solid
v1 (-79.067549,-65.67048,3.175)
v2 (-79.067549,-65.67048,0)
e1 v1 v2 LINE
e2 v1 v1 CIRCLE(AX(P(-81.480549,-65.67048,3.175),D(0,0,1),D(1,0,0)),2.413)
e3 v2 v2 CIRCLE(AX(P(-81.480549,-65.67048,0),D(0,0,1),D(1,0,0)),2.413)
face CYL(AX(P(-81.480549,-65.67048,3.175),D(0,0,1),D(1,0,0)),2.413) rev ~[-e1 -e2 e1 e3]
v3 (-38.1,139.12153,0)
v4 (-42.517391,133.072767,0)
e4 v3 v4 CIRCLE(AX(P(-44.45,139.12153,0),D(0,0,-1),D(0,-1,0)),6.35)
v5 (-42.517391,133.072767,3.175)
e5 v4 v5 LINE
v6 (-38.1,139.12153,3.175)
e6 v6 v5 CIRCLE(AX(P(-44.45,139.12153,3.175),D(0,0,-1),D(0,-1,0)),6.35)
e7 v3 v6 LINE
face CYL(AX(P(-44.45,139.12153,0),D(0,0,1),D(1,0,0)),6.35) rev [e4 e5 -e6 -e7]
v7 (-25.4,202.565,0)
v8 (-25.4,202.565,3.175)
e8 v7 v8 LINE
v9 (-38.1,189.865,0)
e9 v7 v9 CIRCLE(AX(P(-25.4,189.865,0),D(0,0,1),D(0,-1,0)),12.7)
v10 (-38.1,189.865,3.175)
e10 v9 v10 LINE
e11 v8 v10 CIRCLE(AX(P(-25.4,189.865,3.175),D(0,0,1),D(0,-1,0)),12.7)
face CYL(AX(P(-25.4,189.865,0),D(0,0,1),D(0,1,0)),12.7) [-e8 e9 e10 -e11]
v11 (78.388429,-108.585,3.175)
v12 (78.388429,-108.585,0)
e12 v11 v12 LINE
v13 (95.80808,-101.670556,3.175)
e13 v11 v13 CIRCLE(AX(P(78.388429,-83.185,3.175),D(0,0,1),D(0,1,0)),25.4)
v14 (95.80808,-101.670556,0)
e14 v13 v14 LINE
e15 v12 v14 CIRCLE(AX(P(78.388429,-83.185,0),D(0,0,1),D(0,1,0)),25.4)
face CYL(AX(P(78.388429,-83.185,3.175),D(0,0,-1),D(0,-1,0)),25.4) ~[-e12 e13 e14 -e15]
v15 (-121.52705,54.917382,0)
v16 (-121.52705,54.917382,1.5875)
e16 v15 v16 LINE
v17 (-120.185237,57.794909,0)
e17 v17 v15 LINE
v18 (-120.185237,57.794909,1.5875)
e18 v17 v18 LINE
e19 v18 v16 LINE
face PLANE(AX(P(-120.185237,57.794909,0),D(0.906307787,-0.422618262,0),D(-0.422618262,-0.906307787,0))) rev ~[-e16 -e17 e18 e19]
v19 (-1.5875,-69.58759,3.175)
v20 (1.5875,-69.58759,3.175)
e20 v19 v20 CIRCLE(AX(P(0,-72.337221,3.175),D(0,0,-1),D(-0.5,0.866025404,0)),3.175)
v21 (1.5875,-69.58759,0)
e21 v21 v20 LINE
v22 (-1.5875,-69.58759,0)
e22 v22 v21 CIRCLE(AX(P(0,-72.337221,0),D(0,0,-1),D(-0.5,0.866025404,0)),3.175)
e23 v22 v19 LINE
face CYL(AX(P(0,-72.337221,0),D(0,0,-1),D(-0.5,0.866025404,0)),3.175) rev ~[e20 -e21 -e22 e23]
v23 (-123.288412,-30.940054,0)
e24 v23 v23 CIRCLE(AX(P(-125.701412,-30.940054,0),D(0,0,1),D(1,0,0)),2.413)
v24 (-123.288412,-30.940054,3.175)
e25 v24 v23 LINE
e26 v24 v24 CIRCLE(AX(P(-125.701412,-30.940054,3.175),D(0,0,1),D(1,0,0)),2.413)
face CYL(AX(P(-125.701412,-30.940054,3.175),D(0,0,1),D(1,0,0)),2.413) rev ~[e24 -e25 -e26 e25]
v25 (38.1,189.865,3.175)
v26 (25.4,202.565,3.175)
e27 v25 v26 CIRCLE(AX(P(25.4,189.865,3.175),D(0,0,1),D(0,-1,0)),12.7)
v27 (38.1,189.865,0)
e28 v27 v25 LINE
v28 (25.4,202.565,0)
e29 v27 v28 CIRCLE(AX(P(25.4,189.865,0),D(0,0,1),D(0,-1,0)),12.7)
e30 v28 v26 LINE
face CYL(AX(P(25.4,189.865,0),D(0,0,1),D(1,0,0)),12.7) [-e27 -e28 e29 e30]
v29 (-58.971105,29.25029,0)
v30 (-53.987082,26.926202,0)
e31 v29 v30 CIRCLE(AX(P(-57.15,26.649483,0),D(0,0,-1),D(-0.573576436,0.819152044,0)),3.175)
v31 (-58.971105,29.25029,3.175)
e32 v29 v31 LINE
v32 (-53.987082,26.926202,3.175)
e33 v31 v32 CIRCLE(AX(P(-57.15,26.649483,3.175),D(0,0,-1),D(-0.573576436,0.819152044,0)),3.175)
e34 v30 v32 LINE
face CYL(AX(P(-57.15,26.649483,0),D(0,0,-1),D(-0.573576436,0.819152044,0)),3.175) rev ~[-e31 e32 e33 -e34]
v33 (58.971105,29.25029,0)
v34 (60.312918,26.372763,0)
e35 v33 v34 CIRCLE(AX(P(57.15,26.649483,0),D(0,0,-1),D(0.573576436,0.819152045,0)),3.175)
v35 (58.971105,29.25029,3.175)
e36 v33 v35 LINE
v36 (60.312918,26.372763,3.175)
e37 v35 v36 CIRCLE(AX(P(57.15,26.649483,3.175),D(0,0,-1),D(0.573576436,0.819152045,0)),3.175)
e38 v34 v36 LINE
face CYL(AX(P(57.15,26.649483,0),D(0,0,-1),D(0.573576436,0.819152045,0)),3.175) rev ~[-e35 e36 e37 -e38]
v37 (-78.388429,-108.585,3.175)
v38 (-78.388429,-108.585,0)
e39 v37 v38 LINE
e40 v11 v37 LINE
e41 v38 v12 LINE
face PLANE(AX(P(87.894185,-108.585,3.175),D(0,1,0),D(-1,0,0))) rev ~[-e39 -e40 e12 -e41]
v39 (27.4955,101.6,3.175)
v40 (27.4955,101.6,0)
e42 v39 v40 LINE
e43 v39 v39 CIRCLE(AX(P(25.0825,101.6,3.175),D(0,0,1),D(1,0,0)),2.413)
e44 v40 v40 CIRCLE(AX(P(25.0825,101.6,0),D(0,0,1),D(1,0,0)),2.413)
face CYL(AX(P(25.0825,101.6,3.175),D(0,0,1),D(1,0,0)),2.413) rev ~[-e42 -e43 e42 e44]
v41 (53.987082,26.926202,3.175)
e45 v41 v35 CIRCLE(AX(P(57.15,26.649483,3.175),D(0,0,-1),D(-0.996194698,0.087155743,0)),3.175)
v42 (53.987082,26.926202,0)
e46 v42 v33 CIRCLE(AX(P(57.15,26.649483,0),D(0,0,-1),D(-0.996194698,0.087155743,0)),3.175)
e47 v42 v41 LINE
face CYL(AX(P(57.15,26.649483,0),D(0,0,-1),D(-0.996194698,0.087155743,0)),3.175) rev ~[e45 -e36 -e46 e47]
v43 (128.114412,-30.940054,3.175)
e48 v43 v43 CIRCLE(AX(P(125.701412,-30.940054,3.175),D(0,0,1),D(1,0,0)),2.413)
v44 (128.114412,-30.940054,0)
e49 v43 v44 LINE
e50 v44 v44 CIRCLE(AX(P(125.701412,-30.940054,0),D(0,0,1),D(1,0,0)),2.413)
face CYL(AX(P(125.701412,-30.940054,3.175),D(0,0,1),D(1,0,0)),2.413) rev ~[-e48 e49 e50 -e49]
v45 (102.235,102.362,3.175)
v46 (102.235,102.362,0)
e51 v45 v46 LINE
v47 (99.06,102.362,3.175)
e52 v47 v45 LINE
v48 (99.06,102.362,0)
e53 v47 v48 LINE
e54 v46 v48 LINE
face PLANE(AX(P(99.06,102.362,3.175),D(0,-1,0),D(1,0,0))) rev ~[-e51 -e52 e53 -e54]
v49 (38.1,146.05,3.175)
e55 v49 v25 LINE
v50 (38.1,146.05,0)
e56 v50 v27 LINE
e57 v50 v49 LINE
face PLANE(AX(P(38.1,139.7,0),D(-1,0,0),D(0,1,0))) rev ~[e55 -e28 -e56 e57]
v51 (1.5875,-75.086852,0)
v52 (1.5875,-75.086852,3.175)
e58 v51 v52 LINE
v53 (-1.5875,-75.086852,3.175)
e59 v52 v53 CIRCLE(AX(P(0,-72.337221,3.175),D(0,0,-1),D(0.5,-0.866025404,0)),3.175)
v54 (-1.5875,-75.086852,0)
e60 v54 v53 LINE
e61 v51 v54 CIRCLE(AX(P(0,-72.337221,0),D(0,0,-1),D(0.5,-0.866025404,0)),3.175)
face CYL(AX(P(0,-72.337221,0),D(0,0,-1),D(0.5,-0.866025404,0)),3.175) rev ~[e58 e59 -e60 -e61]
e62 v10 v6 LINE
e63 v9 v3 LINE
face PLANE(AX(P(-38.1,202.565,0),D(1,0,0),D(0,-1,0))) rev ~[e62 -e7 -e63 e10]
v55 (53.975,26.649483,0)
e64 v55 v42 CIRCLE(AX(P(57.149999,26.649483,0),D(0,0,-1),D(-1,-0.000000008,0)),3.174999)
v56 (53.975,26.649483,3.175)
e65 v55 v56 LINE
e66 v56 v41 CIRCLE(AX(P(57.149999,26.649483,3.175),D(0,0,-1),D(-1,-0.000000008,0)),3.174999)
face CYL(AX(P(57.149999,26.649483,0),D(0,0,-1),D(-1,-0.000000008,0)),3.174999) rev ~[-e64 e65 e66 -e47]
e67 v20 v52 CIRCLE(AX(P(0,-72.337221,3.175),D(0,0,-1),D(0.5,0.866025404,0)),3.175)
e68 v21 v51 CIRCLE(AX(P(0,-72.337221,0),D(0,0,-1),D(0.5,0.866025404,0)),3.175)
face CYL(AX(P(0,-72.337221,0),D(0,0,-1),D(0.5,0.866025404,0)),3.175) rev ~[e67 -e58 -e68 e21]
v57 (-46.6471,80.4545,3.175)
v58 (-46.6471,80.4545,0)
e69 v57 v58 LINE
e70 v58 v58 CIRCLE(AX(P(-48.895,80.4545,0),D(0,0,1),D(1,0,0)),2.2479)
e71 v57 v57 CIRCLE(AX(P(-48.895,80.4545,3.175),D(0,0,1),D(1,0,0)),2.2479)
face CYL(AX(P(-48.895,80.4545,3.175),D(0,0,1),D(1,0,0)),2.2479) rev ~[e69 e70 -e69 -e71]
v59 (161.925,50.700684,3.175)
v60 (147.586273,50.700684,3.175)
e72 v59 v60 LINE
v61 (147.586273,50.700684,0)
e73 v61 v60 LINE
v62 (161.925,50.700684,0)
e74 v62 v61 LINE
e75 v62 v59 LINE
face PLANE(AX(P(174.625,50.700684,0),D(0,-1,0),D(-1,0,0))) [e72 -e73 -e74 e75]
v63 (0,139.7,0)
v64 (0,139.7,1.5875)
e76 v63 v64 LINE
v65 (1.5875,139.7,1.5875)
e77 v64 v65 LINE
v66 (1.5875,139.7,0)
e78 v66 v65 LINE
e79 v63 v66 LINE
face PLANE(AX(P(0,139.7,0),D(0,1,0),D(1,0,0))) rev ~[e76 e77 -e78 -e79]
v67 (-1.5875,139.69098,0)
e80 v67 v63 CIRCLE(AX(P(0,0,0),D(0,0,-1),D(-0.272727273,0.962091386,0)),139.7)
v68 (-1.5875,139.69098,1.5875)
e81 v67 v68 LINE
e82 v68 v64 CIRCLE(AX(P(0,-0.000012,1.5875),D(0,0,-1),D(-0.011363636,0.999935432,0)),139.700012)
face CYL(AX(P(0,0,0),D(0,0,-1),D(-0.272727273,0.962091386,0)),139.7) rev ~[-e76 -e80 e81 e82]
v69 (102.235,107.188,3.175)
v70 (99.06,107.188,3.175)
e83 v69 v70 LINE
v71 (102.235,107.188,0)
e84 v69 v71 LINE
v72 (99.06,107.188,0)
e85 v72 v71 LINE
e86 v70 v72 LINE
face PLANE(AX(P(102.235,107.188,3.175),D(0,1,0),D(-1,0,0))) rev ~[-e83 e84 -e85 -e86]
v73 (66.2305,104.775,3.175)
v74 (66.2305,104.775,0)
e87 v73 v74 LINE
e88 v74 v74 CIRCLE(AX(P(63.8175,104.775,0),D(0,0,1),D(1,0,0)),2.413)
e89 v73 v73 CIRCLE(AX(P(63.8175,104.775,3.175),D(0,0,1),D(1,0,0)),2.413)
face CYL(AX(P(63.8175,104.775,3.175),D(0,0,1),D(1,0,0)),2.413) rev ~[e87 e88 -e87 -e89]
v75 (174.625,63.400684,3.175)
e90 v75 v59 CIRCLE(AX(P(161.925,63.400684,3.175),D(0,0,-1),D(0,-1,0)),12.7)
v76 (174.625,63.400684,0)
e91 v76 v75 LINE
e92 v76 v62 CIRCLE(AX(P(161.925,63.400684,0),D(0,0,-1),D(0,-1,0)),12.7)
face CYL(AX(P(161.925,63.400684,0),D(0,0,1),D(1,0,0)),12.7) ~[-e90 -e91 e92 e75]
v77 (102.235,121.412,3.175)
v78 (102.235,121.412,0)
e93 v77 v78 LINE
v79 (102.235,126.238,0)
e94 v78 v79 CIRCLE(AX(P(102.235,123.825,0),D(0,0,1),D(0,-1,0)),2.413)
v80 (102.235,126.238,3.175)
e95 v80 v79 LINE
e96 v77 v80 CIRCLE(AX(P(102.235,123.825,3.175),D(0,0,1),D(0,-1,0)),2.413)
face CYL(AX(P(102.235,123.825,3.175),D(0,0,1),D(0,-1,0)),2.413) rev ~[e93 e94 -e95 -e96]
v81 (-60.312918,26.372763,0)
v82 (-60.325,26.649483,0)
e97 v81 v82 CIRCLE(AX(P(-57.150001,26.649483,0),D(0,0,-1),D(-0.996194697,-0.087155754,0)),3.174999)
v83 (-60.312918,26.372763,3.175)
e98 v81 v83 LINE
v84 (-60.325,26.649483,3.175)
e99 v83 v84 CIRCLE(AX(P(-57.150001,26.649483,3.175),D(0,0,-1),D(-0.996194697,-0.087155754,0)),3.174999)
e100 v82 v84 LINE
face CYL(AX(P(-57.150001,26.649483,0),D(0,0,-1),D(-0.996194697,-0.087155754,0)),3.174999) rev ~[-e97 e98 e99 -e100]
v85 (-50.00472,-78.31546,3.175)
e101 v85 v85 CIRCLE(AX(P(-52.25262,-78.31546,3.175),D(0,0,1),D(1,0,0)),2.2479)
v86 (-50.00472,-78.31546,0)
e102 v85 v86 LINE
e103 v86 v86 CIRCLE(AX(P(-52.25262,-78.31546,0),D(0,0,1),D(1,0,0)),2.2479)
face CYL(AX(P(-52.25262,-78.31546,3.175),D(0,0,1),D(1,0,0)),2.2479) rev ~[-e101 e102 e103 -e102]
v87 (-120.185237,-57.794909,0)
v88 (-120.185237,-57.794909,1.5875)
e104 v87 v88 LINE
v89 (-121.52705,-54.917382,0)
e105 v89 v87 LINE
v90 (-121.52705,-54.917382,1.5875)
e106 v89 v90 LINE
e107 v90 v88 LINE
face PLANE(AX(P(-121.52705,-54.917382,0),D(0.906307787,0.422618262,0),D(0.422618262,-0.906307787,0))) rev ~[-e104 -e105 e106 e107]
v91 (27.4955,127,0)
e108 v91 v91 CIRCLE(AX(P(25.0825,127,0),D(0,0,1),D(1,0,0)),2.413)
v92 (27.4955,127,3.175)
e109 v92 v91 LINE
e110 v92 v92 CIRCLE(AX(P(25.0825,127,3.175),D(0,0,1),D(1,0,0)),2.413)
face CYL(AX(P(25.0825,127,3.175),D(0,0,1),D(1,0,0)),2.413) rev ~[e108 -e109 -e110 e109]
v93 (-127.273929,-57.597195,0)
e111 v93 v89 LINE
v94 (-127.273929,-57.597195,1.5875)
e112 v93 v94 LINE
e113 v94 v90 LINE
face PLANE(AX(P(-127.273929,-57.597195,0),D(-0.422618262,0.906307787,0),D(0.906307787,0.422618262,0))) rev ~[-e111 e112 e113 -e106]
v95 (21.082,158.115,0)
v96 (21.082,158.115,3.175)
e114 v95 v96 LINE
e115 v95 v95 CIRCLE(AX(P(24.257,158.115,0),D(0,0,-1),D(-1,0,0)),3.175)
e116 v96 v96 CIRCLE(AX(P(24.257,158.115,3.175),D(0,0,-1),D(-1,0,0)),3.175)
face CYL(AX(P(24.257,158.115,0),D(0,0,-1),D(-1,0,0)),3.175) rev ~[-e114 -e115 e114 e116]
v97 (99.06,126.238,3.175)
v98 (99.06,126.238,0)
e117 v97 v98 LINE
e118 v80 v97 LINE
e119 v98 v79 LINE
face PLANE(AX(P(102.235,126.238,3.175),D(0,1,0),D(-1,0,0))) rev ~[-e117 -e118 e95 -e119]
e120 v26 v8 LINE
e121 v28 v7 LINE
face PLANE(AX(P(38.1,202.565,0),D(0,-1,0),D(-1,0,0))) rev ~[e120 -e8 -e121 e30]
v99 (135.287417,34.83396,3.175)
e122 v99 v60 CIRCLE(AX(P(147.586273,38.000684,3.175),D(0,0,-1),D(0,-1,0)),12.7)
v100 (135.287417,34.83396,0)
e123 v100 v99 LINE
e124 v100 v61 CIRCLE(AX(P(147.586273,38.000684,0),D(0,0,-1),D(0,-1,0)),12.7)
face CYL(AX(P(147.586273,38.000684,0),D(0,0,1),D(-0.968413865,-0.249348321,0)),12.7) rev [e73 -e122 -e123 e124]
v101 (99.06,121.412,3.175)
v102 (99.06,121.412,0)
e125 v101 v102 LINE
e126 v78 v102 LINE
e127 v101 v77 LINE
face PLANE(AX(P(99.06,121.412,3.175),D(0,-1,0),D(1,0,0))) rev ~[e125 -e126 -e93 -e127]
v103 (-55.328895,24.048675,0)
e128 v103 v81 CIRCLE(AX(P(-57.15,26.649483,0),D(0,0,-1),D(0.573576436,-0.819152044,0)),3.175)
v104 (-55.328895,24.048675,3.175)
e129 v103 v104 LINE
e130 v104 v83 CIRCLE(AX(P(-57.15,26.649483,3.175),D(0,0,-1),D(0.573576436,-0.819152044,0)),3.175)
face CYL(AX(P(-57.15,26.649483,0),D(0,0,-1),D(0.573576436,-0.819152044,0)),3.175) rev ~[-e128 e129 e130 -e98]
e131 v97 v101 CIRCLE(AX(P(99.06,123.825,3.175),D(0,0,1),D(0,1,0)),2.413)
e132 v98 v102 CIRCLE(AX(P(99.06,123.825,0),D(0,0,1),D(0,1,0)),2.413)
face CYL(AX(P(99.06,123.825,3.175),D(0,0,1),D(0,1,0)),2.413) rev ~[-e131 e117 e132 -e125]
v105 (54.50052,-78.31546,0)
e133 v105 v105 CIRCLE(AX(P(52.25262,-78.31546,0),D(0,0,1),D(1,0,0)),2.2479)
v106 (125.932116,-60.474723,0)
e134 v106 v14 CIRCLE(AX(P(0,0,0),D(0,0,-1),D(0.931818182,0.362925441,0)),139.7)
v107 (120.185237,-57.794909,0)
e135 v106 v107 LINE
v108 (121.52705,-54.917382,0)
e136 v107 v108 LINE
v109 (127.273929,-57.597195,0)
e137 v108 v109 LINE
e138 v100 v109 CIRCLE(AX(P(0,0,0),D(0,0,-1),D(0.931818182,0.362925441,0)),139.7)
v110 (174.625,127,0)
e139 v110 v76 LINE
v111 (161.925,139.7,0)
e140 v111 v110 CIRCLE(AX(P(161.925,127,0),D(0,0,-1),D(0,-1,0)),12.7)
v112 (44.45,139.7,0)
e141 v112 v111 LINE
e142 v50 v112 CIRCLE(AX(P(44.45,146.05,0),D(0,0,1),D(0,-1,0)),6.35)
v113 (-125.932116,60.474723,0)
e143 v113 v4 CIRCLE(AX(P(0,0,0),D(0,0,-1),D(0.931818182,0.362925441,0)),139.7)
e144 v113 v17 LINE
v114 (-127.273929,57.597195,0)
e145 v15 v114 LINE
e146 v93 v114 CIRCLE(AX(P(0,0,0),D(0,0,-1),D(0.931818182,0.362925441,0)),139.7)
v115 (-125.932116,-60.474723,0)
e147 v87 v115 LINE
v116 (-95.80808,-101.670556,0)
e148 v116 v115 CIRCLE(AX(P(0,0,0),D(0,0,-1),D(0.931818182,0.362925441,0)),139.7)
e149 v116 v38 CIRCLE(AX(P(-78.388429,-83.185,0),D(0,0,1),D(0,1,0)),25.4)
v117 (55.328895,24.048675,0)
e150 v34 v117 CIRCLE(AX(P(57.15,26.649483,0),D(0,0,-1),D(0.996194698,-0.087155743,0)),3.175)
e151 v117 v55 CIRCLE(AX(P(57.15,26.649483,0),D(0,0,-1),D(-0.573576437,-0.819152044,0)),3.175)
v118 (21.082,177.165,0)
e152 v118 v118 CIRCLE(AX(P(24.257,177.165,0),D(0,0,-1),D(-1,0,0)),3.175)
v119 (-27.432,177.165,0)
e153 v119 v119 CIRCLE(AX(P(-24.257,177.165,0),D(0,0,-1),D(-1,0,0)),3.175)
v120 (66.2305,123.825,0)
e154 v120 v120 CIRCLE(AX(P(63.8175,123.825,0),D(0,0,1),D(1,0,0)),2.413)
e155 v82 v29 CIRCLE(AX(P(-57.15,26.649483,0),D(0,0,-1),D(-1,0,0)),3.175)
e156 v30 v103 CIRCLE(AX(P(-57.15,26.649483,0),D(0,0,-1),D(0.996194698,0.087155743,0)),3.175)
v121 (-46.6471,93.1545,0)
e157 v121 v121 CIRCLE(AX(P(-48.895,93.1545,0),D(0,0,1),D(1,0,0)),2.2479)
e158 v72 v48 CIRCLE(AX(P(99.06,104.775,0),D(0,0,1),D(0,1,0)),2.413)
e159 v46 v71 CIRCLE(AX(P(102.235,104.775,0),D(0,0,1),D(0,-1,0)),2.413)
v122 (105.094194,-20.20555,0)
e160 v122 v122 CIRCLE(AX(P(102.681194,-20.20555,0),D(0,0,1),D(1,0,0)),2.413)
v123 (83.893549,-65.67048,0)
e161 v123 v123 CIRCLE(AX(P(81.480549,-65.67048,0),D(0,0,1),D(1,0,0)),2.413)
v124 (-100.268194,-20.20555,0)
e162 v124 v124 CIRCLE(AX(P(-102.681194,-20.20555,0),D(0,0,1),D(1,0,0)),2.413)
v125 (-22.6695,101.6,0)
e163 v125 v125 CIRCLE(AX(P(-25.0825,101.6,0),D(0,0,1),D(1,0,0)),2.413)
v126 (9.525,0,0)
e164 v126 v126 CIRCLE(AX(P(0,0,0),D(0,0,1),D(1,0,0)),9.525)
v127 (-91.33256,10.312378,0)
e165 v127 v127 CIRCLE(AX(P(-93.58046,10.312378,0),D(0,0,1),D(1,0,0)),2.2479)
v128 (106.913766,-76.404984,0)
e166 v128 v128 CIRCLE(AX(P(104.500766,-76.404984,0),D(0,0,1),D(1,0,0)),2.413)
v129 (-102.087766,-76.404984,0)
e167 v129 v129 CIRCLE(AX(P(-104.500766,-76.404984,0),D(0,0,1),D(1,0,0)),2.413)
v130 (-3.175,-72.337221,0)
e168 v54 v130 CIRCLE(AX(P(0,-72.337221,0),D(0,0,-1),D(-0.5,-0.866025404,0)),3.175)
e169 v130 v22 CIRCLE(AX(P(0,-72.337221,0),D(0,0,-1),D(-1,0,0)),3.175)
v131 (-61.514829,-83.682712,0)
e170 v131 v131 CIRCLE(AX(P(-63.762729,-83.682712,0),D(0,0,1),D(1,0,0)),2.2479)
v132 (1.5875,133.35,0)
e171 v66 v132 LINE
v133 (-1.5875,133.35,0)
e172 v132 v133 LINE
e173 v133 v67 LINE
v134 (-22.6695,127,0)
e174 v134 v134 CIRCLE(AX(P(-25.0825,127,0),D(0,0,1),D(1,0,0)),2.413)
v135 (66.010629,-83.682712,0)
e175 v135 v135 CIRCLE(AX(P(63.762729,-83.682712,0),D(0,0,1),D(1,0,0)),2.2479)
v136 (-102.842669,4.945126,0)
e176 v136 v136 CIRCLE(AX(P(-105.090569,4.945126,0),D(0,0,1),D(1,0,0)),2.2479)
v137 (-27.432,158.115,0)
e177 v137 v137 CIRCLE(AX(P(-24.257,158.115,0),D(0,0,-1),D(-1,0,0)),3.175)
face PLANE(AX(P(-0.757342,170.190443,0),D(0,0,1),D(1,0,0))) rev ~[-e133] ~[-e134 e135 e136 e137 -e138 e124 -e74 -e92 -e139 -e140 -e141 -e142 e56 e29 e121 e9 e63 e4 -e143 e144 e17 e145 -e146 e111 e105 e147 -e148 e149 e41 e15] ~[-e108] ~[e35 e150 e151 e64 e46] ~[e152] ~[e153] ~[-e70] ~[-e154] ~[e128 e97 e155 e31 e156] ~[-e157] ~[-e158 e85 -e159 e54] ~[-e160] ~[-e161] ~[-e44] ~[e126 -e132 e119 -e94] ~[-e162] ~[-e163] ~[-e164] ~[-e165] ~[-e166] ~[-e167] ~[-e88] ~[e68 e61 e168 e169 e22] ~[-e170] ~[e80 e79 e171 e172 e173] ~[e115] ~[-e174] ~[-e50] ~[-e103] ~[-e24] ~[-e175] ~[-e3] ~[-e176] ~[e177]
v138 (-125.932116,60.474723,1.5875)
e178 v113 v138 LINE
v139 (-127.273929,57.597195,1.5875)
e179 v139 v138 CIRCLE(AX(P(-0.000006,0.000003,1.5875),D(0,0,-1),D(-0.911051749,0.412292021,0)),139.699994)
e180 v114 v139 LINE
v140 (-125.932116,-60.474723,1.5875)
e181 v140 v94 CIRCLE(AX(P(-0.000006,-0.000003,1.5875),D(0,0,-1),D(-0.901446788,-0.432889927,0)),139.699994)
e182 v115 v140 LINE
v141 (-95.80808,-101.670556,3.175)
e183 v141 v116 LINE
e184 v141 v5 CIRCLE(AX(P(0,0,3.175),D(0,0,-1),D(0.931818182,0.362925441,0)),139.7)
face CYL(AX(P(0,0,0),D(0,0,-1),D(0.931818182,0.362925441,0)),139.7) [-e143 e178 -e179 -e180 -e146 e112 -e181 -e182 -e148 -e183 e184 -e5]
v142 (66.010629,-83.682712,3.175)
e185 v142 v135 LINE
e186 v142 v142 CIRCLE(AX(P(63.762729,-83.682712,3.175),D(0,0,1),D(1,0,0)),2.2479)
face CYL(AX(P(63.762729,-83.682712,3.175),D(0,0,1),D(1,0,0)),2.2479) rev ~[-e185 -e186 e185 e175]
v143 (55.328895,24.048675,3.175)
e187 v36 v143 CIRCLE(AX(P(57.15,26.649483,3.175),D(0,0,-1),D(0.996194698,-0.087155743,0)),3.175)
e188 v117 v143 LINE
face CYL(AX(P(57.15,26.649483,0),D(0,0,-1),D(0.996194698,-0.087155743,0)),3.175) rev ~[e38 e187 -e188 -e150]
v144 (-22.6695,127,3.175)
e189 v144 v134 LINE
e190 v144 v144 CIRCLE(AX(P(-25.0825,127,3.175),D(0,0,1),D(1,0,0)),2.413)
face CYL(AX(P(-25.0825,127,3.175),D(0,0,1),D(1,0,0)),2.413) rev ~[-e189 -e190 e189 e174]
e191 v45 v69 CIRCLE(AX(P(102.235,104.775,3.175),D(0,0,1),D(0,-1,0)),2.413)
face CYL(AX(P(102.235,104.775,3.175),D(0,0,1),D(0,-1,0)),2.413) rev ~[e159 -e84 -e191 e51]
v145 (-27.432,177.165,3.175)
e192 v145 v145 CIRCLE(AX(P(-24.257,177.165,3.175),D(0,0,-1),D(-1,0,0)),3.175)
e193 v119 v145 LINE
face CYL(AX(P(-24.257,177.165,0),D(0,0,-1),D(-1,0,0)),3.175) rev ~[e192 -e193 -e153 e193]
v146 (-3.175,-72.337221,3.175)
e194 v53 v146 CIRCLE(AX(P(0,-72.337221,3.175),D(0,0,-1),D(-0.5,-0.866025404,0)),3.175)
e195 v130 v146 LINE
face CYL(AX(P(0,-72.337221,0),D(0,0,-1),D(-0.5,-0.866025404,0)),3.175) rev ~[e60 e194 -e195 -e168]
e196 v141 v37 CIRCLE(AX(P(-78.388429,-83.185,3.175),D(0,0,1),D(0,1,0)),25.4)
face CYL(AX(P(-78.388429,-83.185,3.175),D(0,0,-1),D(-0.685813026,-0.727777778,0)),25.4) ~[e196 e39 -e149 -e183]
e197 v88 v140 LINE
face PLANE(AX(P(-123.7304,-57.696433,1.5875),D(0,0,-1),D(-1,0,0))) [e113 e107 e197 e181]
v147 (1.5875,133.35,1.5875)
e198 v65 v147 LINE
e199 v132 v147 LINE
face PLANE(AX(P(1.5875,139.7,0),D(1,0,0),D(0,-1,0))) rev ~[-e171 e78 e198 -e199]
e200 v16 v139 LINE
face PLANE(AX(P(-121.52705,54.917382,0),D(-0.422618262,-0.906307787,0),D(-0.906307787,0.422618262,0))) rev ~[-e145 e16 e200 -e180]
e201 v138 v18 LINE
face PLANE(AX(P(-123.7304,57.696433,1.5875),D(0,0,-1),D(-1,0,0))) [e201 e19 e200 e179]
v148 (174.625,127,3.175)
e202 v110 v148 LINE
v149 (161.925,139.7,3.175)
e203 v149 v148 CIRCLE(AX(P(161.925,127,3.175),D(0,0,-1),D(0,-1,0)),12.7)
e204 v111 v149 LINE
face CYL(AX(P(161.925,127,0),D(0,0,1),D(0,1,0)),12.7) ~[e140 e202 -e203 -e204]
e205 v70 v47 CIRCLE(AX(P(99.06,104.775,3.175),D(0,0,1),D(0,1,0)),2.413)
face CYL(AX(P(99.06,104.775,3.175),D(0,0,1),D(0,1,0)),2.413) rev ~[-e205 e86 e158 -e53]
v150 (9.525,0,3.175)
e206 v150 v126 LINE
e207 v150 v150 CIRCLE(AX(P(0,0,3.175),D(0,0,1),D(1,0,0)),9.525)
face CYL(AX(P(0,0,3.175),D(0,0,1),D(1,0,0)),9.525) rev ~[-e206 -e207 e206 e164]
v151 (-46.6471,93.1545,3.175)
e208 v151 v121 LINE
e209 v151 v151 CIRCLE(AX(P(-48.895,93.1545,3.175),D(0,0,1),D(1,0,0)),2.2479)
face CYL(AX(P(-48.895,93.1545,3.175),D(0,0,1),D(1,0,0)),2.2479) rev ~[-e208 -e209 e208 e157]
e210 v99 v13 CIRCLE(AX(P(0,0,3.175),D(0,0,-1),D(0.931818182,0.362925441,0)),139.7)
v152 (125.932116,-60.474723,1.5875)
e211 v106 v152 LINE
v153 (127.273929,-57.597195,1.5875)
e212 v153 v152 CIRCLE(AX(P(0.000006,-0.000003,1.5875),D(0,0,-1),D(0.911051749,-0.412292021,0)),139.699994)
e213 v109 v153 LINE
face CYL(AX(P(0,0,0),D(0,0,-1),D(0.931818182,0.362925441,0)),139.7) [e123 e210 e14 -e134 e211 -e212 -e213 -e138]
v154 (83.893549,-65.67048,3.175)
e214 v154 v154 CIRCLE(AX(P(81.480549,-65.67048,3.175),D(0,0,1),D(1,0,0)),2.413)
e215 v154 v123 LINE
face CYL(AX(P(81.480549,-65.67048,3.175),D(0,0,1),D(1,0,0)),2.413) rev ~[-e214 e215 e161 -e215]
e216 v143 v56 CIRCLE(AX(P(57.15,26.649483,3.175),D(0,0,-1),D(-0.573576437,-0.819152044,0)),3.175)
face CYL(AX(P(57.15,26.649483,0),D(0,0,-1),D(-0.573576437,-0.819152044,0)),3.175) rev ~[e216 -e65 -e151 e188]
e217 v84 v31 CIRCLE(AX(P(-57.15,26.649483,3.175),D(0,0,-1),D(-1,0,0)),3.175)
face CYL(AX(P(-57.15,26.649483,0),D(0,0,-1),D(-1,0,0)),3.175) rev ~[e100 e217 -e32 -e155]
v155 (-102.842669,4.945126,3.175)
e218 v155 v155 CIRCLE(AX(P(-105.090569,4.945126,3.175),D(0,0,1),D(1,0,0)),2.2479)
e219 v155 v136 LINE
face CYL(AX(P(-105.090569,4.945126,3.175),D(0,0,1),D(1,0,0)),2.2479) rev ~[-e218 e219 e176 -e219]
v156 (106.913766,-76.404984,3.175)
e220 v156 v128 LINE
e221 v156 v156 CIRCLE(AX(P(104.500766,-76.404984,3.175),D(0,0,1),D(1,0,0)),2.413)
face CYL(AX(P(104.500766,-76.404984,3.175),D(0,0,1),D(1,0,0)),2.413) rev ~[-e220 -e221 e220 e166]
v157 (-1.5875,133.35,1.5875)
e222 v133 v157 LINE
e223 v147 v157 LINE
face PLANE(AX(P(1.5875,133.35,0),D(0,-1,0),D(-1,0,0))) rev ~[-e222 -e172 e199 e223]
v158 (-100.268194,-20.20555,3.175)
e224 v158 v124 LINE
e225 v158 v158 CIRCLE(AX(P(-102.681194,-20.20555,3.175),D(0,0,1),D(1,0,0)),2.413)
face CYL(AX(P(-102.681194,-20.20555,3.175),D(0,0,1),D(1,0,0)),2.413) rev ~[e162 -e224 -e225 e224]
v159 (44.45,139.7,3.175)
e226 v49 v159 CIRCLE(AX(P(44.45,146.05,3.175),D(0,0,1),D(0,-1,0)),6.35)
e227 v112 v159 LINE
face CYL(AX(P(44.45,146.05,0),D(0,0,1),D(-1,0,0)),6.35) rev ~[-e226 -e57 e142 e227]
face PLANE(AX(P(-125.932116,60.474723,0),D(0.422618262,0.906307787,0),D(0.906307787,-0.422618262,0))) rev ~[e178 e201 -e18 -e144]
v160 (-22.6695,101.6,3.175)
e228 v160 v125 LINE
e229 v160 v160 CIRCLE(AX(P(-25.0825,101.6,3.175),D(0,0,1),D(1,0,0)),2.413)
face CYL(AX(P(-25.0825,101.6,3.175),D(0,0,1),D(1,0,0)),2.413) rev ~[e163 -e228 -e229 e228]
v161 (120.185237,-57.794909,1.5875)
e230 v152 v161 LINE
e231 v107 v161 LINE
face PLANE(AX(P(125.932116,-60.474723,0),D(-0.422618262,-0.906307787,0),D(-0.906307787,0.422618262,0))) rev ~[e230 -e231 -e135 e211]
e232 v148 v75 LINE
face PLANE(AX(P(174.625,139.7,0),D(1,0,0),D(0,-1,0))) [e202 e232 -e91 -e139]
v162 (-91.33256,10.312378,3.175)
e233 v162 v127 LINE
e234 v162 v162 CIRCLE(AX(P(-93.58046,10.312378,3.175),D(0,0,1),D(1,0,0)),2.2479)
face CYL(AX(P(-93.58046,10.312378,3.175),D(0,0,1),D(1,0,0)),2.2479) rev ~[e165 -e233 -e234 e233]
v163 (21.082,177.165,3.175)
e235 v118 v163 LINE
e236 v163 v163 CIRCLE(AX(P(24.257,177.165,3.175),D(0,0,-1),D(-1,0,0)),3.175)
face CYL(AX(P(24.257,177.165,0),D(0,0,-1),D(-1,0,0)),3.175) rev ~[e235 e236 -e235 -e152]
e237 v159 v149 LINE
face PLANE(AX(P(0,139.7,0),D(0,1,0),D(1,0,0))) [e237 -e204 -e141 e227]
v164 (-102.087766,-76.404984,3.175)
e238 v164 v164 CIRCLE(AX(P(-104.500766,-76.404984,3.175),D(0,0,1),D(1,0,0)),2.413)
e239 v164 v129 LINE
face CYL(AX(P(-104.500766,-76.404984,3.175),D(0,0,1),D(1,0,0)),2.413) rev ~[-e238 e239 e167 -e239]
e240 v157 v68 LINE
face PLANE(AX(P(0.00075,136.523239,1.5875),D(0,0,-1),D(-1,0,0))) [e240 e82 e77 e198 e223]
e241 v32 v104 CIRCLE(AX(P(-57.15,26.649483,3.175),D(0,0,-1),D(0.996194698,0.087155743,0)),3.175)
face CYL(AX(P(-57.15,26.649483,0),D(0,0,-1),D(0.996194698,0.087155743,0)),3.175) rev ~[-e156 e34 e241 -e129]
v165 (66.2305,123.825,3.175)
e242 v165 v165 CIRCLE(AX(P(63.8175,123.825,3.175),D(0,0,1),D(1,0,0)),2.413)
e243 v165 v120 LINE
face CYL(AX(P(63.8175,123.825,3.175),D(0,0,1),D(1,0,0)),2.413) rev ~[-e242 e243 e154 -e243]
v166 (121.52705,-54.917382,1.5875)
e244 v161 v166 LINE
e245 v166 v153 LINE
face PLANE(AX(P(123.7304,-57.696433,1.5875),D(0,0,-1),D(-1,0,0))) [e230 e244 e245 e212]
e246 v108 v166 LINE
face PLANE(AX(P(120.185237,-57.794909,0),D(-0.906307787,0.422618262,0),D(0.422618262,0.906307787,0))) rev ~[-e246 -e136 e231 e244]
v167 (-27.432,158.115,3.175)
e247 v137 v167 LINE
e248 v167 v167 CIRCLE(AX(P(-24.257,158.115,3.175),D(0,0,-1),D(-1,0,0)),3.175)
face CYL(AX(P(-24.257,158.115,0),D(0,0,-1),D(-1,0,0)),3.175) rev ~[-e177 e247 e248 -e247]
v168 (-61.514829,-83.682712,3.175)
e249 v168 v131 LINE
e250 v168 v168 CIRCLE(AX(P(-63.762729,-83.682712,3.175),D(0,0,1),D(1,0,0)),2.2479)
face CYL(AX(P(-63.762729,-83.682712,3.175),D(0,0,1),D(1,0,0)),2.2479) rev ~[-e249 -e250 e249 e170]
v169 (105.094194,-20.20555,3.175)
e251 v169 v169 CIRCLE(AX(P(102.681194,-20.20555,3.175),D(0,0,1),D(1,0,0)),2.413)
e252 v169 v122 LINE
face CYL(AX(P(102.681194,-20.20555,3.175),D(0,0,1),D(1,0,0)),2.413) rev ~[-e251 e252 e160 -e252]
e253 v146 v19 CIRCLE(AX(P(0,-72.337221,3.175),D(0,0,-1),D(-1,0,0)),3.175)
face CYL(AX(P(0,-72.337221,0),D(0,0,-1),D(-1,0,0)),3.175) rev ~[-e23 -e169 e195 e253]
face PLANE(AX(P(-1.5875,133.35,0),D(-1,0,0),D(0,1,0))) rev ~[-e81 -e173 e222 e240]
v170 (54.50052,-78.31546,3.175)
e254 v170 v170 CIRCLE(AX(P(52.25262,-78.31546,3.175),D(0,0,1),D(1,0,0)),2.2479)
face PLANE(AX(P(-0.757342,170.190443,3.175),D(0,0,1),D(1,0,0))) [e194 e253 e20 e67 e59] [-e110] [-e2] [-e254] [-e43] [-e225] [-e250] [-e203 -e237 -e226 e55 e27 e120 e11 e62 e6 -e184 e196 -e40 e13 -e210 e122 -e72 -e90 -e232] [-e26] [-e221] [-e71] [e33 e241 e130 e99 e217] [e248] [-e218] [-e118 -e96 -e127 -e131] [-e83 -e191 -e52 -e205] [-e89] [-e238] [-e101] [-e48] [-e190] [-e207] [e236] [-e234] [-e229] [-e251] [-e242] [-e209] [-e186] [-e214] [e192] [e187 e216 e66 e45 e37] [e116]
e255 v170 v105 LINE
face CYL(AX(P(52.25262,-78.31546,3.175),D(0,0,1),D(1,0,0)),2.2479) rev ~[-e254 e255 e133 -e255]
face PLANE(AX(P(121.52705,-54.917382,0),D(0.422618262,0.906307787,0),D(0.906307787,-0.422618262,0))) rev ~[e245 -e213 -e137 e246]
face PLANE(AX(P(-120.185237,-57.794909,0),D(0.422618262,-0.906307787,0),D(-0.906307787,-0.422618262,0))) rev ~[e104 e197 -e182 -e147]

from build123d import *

# Parameters (mm, degrees)
BOSS_EXTRUDE1_DEPTH = 3.175
CUT_EXTRUDE3_DEPTH  = 1.5875
SKETCH3_R           = 9.525
CUT_EXTRUDE4_DEPTH  = 4.175
CUT_EXTRUDE5_DEPTH  = 4.175
SKETCH8_R           = 2.413
CUT_EXTRUDE7_DEPTH  = 4.175
SKETCH9_R           = 2.413
CUT_EXTRUDE8_DEPTH  = 4.175
FILLET1_R           = 12.7
CUT_EXTRUDE9_DEPTH  = 4.175
FILLET2_R           = 25.4
SKETCH11_R          = 2.2479
CUT_EXTRUDE10_DEPTH = 4.175
SKETCH14_R          = 3.175
BOSS_EXTRUDE2_DEPTH = 3.175
FILLET3_R           = 12.7
FILLET4_R           = 6.35


with BuildPart() as part:
    # Sketch1 → Boss-Extrude1 (new body)
    with BuildSketch(Plane.XY):
        with BuildLine():
            Line((0, 139.7), (139.7, 139.7))
            Line((139.7, 139.7), (174.625, 139.7))
            Line((174.625, 139.7), (174.625, 50.700684167))
            Line((174.625, 50.700684167), (130.175, 50.700684167))
            ThreePointArc((130.175, 50.700684167), (-78.845432404, -115.323405209), (0, 139.7))
        make_face()
    extrude(amount=BOSS_EXTRUDE1_DEPTH)

    # Sketch2 → Cut-Extrude3 (cut)
    with BuildSketch(Plane(origin=(0, 0, 0), x_dir=(-1, 0, 0), z_dir=(0, 0, -1))):
        Polygon((-1.5875, -1.011349039), (-1.5875, -2.491875854), (0, -1.751612446), align=None)
        Polygon((-1.5875, -1.011349039), (0, -1.751612446), (1.5875, -1.011349039), (1.5875, 1.011349039), (0, 1.751612446), (-1.5875, 1.011349039), align=None)
        Polygon((1.5875, -1.011349039), (0, -1.751612446), (1.5875, -2.491875854), align=None)
        Polygon((-3.756345013, 0), (-1.5875, -1.011349039), (-1.5875, 1.011349039), align=None)
        Polygon((-1.5875, 2.491875854), (-1.5875, 1.011349039), (0, 1.751612446), align=None)
        Polygon((0, 1.751612446), (1.5875, 1.011349039), (1.5875, 2.491875854), align=None)
        Polygon((1.5875, 1.011349039), (1.5875, -1.011349039), (3.756345013, 0), align=None)
        with BuildLine():
            ThreePointArc((-127.273929282, -57.597195461), (-126.611197849, -59.039771165), (-125.932116301, -60.474722685))
            Line((-125.932116301, -60.474722685), (-120.185236911, -57.794908815))
            Line((-120.185236911, -57.794908815), (-121.527049892, -54.917381591))
            Line((-121.527049892, -54.917381591), (-127.273929282, -57.597195461))
        make_face()
        with BuildLine():
            Line((121.527049892, 54.917381591), (127.273929282, 57.597195461))
            ThreePointArc((127.273929282, 57.597195461), (126.611197849, 59.039771165), (125.932116301, 60.474722685))
            Line((125.932116301, 60.474722685), (120.185236911, 57.794908815))
            Line((120.185236911, 57.794908815), (121.527049892, 54.917381591))
        make_face()
        with BuildLine():
            Line((120.185236911, -57.794908815), (125.932116301, -60.474722685))
            ThreePointArc((125.932116301, -60.474722685), (126.611197849, -59.039771165), (127.273929282, -57.597195461))
            Line((127.273929282, -57.597195461), (121.527049892, -54.917381591))
            Line((121.527049892, -54.917381591), (120.185236911, -57.794908815))
        make_face()
        with BuildLine():
            Line((0, 139.7), (-1.5875, 139.7))
            Line((-1.5875, 139.7), (-1.5875, 133.35))
            Line((-1.5875, 133.35), (1.5875, 133.35))
            Line((1.5875, 133.35), (1.5875, 139.690979822))
            ThreePointArc((1.5875, 139.690979822), (0.793762813, 139.697744937), (0, 139.7))
        make_face()
    extrude(amount=-CUT_EXTRUDE3_DEPTH, mode=Mode.SUBTRACT)

    # Sketch3 → Cut-Extrude4 (cut, through all)
    with BuildSketch(Plane.XY.offset(3.175)):
        Circle(SKETCH3_R)
    extrude(amount=-CUT_EXTRUDE4_DEPTH, mode=Mode.SUBTRACT)

    # Sketch2_4 → Cut-Extrude5 (cut, through all)
    with BuildSketch(Plane(origin=(0, 0, 0), x_dir=(-1, 0, 0), z_dir=(0, 0, -1))):
        with BuildLine():
            Line((-60.312918166, 26.37276318), (-55.328894815, 24.048674923))
            ThreePointArc((-55.328894815, 24.048674923), (-54.333740605, 25.183430817), (-53.975, 26.649482664))
            ThreePointArc((-53.975, 26.649482664), (-53.978021896, 26.787974218), (-53.987081834, 26.926202147))
            Line((-53.987081834, 26.926202147), (-58.971105185, 29.250290404))
            ThreePointArc((-58.971105185, 29.250290404), (-60.027527224, 27.991295645), (-60.312918166, 26.37276318))
        make_face()
        with BuildLine():
            ThreePointArc((-60.312918166, 26.37276318), (-58.491812981, 23.77195544), (-55.328894815, 24.048674923))
            Line((-55.328894815, 24.048674923), (-60.312918166, 26.37276318))
        make_face()
        with BuildLine():
            Line((-58.971105185, 29.250290404), (-53.987081834, 26.926202147))
            ThreePointArc((-53.987081834, 26.926202147), (-55.808187019, 29.527009887), (-58.971105185, 29.250290404))
        make_face()
        with BuildLine():
            ThreePointArc((53.987081834, 26.926202147), (54.272472776, 25.307669683), (55.328894815, 24.048674923))
            Line((55.328894815, 24.048674923), (60.312918166, 26.37276318))
            ThreePointArc((60.312918166, 26.37276318), (60.321978104, 26.510991109), (60.325, 26.649482664))
            ThreePointArc((60.325, 26.649482664), (59.966259395, 28.115534511), (58.971105185, 29.250290404))
            Line((58.971105185, 29.250290404), (53.987081834, 26.926202147))
        make_face()
        with BuildLine():
            ThreePointArc((58.971105185, 29.250290404), (55.808187019, 29.527009887), (53.987081834, 26.926202147))
            Line((53.987081834, 26.926202147), (58.971105185, 29.250290404))
        make_face()
        with BuildLine():
            Line((60.312918166, 26.37276318), (55.328894815, 24.048674923))
            ThreePointArc((55.328894815, 24.048674923), (58.491812981, 23.77195544), (60.312918166, 26.37276318))
        make_face()
        with BuildLine():
            ThreePointArc((-1.5875, -69.587590332), (-3.175, -72.337220989), (-1.5875, -75.086851646))
            Line((-1.5875, -75.086851646), (-1.5875, -69.587590332))
        make_face()
        with BuildLine():
            Line((-1.5875, -69.587590332), (-1.5875, -75.086851646))
            ThreePointArc((-1.5875, -75.086851646), (0, -75.512220989), (1.5875, -75.086851646))
            Line((1.5875, -75.086851646), (1.5875, -69.587590332))
            ThreePointArc((1.5875, -69.587590332), (0, -69.162220989), (-1.5875, -69.587590332))
        make_face()
        with BuildLine():
            Line((1.5875, -69.587590332), (1.5875, -75.086851646))
            ThreePointArc((1.5875, -75.086851646), (2.749630657, -73.924720989), (3.175, -72.337220989))
            ThreePointArc((3.175, -72.337220989), (2.749630657, -70.749720989), (1.5875, -69.587590332))
        make_face()
    extrude(amount=-CUT_EXTRUDE5_DEPTH, mode=Mode.SUBTRACT)

    # Sketch8 → Cut-Extrude7 (cut, through all)
    with BuildSketch(Plane.XY.offset(3.175)):
        with Locations((25.0825, 101.6)):
            Circle(SKETCH8_R)
        with Locations((-25.0825, 101.6)):
            Circle(SKETCH8_R)
        with Locations((-25.0825, 127)):
            Circle(SKETCH8_R)
        with Locations((25.0825, 127)):
            Circle(SKETCH8_R)
        with Locations((102.681193713, -20.205550325)):
            Circle(SKETCH8_R)
        with Locations((125.701411504, -30.940054173)):
            Circle(SKETCH8_R)
        with Locations((81.480548613, -65.670480461)):
            Circle(SKETCH8_R)
        with Locations((104.500766404, -76.404984309)):
            Circle(SKETCH8_R)
        with Locations((-81.480548613, -65.670480461)):
            Circle(SKETCH8_R)
        with Locations((-104.500766404, -76.404984309)):
            Circle(SKETCH8_R)
        with Locations((-102.681193713, -20.205550325)):
            Circle(SKETCH8_R)
        with Locations((-125.701411504, -30.940054173)):
            Circle(SKETCH8_R)
    extrude(amount=-CUT_EXTRUDE7_DEPTH, mode=Mode.SUBTRACT)

    # Sketch9 → Cut-Extrude8 (cut, through all)
    with BuildSketch(Plane.XY.offset(3.175)):
        with Locations((100.6475, 123.825)):
            Circle(SKETCH9_R)
        with Locations((63.8175, 123.825)):
            Circle(SKETCH9_R)
        with Locations((63.8175, 104.775)):
            Circle(SKETCH9_R)
        with Locations((100.6475, 104.775)):
            Circle(SKETCH9_R)
        with BuildLine():
            Line((99.06, 121.412), (100.6475, 121.412))
            ThreePointArc((100.6475, 121.412), (98.2345, 123.825000007), (100.647500013, 126.238))
            Line((100.647500013, 126.238), (99.06, 126.238))
            ThreePointArc((99.06, 126.238), (96.647, 123.825), (99.06, 121.412))
        make_face()
        with BuildLine():
            Line((100.6475, 121.412), (102.235, 121.412))
            ThreePointArc((102.235, 121.412), (104.648, 123.825), (102.235, 126.238))
            Line((102.235, 126.238), (100.647500013, 126.238))
            ThreePointArc((100.647500013, 126.238), (102.353748668, 125.531248658), (103.0605, 123.825))
            ThreePointArc((103.0605, 123.825), (102.353748663, 122.118751337), (100.6475, 121.412))
        make_face()
        with BuildLine():
            ThreePointArc((100.6475, 102.362), (98.2345, 104.775), (100.6475, 107.188))
            Line((100.6475, 107.188), (99.06, 107.188))
            ThreePointArc((99.06, 107.188), (96.647, 104.775), (99.06, 102.362))
            Line((99.06, 102.362), (100.6475, 102.362))
        make_face()
        with BuildLine():
            ThreePointArc((102.235, 102.362), (104.648, 104.775), (102.235, 107.188))
            Line((102.235, 107.188), (100.6475, 107.188))
            ThreePointArc((100.6475, 107.188), (102.353748663, 106.481248663), (103.0605, 104.775))
            ThreePointArc((103.0605, 104.775), (102.353748663, 103.068751337), (100.6475, 102.362))
            Line((100.6475, 102.362), (102.235, 102.362))
        make_face()
    extrude(amount=-CUT_EXTRUDE8_DEPTH, mode=Mode.SUBTRACT)

    # Fillet1
    fillet1_edges = [part.edges().sort_by_distance(p)[0] for p in [
        (174.625, 139.7, 1.5875),
        (174.625, 50.700684167, 1.5875),
        (130.175, 50.700684167, 1.5875),
    ]]
    fillet(fillet1_edges, radius=FILLET1_R)

    # Sketch10 → Cut-Extrude9 (cut, through all)
    with BuildSketch(Plane.XY.offset(3.175)):
        with BuildLine():
            Line((87.894185103, -108.585), (-87.894185103, -108.585))
            ThreePointArc((-87.894185103, -108.585), (0, -139.7), (87.894185103, -108.585))
        make_face()
    extrude(amount=-CUT_EXTRUDE9_DEPTH, mode=Mode.SUBTRACT)

    # Fillet2
    fillet2_edges = [part.edges().sort_by_distance(p)[0] for p in [
        (-87.894185103, -108.585, 1.5875),
        (87.894185103, -108.585, 1.5875),
    ]]
    fillet(fillet2_edges, radius=FILLET2_R)

    # Sketch11 → Cut-Extrude10 (cut, through all)
    with BuildSketch(Plane.XY.offset(3.175)):
        with Locations((-93.58045976, 10.312378308)):
            Circle(SKETCH11_R)
        with Locations((-105.090568655, 4.945126384)):
            Circle(SKETCH11_R)
        with Locations((-52.252619944, -78.315460186)):
            Circle(SKETCH11_R)
        with Locations((-63.76272884, -83.68271211)):
            Circle(SKETCH11_R)
        with Locations((52.252619944, -78.315460186)):
            Circle(SKETCH11_R)
        with Locations((63.76272884, -83.68271211)):
            Circle(SKETCH11_R)
        with Locations((-48.895, 93.1545)):
            Circle(SKETCH11_R)
        with Locations((-48.895, 80.4545)):
            Circle(SKETCH11_R)
    extrude(amount=-CUT_EXTRUDE10_DEPTH, mode=Mode.SUBTRACT)

    # Sketch14 → Boss-Extrude2 (add)
    with BuildSketch(Plane(origin=(0, 0, 0), x_dir=(-1, 0, 0), z_dir=(0, 0, -1))):
        with BuildLine():
            Line((-38.1, 139.7), (-38.1, 202.565))
            Line((-38.1, 202.565), (38.1, 202.565))
            Line((38.1, 202.565), (38.1, 134.404166602))
            ThreePointArc((38.1, 134.404166602), (19.233147502, 138.369707802), (0, 139.7))
            Line((0, 139.7), (-38.1, 139.7))
        make_face()
        with Locations((-24.257, 177.165)):
            Circle(SKETCH14_R, mode=Mode.SUBTRACT)
        with Locations((24.257, 177.165)):
            Circle(SKETCH14_R, mode=Mode.SUBTRACT)
        with Locations((24.257, 158.115)):
            Circle(SKETCH14_R, mode=Mode.SUBTRACT)
        with Locations((-24.257, 158.115)):
            Circle(SKETCH14_R, mode=Mode.SUBTRACT)
    extrude(amount=-BOSS_EXTRUDE2_DEPTH)

    # Fillet3
    fillet3_edges = [part.edges().sort_by_distance(p)[0] for p in [
        (38.1, 202.565, 1.5875),
        (-38.1, 202.565, 1.5875),
    ]]
    fillet(fillet3_edges, radius=FILLET3_R)

    # Fillet4
    fillet4_edges = [part.edges().sort_by_distance(p)[0] for p in [
        (-38.1, 134.404166602, 1.5875),
        (38.1, 139.7, 1.5875),
    ]]
    fillet(fillet4_edges, radius=FILLET4_R)


solid = part.part
